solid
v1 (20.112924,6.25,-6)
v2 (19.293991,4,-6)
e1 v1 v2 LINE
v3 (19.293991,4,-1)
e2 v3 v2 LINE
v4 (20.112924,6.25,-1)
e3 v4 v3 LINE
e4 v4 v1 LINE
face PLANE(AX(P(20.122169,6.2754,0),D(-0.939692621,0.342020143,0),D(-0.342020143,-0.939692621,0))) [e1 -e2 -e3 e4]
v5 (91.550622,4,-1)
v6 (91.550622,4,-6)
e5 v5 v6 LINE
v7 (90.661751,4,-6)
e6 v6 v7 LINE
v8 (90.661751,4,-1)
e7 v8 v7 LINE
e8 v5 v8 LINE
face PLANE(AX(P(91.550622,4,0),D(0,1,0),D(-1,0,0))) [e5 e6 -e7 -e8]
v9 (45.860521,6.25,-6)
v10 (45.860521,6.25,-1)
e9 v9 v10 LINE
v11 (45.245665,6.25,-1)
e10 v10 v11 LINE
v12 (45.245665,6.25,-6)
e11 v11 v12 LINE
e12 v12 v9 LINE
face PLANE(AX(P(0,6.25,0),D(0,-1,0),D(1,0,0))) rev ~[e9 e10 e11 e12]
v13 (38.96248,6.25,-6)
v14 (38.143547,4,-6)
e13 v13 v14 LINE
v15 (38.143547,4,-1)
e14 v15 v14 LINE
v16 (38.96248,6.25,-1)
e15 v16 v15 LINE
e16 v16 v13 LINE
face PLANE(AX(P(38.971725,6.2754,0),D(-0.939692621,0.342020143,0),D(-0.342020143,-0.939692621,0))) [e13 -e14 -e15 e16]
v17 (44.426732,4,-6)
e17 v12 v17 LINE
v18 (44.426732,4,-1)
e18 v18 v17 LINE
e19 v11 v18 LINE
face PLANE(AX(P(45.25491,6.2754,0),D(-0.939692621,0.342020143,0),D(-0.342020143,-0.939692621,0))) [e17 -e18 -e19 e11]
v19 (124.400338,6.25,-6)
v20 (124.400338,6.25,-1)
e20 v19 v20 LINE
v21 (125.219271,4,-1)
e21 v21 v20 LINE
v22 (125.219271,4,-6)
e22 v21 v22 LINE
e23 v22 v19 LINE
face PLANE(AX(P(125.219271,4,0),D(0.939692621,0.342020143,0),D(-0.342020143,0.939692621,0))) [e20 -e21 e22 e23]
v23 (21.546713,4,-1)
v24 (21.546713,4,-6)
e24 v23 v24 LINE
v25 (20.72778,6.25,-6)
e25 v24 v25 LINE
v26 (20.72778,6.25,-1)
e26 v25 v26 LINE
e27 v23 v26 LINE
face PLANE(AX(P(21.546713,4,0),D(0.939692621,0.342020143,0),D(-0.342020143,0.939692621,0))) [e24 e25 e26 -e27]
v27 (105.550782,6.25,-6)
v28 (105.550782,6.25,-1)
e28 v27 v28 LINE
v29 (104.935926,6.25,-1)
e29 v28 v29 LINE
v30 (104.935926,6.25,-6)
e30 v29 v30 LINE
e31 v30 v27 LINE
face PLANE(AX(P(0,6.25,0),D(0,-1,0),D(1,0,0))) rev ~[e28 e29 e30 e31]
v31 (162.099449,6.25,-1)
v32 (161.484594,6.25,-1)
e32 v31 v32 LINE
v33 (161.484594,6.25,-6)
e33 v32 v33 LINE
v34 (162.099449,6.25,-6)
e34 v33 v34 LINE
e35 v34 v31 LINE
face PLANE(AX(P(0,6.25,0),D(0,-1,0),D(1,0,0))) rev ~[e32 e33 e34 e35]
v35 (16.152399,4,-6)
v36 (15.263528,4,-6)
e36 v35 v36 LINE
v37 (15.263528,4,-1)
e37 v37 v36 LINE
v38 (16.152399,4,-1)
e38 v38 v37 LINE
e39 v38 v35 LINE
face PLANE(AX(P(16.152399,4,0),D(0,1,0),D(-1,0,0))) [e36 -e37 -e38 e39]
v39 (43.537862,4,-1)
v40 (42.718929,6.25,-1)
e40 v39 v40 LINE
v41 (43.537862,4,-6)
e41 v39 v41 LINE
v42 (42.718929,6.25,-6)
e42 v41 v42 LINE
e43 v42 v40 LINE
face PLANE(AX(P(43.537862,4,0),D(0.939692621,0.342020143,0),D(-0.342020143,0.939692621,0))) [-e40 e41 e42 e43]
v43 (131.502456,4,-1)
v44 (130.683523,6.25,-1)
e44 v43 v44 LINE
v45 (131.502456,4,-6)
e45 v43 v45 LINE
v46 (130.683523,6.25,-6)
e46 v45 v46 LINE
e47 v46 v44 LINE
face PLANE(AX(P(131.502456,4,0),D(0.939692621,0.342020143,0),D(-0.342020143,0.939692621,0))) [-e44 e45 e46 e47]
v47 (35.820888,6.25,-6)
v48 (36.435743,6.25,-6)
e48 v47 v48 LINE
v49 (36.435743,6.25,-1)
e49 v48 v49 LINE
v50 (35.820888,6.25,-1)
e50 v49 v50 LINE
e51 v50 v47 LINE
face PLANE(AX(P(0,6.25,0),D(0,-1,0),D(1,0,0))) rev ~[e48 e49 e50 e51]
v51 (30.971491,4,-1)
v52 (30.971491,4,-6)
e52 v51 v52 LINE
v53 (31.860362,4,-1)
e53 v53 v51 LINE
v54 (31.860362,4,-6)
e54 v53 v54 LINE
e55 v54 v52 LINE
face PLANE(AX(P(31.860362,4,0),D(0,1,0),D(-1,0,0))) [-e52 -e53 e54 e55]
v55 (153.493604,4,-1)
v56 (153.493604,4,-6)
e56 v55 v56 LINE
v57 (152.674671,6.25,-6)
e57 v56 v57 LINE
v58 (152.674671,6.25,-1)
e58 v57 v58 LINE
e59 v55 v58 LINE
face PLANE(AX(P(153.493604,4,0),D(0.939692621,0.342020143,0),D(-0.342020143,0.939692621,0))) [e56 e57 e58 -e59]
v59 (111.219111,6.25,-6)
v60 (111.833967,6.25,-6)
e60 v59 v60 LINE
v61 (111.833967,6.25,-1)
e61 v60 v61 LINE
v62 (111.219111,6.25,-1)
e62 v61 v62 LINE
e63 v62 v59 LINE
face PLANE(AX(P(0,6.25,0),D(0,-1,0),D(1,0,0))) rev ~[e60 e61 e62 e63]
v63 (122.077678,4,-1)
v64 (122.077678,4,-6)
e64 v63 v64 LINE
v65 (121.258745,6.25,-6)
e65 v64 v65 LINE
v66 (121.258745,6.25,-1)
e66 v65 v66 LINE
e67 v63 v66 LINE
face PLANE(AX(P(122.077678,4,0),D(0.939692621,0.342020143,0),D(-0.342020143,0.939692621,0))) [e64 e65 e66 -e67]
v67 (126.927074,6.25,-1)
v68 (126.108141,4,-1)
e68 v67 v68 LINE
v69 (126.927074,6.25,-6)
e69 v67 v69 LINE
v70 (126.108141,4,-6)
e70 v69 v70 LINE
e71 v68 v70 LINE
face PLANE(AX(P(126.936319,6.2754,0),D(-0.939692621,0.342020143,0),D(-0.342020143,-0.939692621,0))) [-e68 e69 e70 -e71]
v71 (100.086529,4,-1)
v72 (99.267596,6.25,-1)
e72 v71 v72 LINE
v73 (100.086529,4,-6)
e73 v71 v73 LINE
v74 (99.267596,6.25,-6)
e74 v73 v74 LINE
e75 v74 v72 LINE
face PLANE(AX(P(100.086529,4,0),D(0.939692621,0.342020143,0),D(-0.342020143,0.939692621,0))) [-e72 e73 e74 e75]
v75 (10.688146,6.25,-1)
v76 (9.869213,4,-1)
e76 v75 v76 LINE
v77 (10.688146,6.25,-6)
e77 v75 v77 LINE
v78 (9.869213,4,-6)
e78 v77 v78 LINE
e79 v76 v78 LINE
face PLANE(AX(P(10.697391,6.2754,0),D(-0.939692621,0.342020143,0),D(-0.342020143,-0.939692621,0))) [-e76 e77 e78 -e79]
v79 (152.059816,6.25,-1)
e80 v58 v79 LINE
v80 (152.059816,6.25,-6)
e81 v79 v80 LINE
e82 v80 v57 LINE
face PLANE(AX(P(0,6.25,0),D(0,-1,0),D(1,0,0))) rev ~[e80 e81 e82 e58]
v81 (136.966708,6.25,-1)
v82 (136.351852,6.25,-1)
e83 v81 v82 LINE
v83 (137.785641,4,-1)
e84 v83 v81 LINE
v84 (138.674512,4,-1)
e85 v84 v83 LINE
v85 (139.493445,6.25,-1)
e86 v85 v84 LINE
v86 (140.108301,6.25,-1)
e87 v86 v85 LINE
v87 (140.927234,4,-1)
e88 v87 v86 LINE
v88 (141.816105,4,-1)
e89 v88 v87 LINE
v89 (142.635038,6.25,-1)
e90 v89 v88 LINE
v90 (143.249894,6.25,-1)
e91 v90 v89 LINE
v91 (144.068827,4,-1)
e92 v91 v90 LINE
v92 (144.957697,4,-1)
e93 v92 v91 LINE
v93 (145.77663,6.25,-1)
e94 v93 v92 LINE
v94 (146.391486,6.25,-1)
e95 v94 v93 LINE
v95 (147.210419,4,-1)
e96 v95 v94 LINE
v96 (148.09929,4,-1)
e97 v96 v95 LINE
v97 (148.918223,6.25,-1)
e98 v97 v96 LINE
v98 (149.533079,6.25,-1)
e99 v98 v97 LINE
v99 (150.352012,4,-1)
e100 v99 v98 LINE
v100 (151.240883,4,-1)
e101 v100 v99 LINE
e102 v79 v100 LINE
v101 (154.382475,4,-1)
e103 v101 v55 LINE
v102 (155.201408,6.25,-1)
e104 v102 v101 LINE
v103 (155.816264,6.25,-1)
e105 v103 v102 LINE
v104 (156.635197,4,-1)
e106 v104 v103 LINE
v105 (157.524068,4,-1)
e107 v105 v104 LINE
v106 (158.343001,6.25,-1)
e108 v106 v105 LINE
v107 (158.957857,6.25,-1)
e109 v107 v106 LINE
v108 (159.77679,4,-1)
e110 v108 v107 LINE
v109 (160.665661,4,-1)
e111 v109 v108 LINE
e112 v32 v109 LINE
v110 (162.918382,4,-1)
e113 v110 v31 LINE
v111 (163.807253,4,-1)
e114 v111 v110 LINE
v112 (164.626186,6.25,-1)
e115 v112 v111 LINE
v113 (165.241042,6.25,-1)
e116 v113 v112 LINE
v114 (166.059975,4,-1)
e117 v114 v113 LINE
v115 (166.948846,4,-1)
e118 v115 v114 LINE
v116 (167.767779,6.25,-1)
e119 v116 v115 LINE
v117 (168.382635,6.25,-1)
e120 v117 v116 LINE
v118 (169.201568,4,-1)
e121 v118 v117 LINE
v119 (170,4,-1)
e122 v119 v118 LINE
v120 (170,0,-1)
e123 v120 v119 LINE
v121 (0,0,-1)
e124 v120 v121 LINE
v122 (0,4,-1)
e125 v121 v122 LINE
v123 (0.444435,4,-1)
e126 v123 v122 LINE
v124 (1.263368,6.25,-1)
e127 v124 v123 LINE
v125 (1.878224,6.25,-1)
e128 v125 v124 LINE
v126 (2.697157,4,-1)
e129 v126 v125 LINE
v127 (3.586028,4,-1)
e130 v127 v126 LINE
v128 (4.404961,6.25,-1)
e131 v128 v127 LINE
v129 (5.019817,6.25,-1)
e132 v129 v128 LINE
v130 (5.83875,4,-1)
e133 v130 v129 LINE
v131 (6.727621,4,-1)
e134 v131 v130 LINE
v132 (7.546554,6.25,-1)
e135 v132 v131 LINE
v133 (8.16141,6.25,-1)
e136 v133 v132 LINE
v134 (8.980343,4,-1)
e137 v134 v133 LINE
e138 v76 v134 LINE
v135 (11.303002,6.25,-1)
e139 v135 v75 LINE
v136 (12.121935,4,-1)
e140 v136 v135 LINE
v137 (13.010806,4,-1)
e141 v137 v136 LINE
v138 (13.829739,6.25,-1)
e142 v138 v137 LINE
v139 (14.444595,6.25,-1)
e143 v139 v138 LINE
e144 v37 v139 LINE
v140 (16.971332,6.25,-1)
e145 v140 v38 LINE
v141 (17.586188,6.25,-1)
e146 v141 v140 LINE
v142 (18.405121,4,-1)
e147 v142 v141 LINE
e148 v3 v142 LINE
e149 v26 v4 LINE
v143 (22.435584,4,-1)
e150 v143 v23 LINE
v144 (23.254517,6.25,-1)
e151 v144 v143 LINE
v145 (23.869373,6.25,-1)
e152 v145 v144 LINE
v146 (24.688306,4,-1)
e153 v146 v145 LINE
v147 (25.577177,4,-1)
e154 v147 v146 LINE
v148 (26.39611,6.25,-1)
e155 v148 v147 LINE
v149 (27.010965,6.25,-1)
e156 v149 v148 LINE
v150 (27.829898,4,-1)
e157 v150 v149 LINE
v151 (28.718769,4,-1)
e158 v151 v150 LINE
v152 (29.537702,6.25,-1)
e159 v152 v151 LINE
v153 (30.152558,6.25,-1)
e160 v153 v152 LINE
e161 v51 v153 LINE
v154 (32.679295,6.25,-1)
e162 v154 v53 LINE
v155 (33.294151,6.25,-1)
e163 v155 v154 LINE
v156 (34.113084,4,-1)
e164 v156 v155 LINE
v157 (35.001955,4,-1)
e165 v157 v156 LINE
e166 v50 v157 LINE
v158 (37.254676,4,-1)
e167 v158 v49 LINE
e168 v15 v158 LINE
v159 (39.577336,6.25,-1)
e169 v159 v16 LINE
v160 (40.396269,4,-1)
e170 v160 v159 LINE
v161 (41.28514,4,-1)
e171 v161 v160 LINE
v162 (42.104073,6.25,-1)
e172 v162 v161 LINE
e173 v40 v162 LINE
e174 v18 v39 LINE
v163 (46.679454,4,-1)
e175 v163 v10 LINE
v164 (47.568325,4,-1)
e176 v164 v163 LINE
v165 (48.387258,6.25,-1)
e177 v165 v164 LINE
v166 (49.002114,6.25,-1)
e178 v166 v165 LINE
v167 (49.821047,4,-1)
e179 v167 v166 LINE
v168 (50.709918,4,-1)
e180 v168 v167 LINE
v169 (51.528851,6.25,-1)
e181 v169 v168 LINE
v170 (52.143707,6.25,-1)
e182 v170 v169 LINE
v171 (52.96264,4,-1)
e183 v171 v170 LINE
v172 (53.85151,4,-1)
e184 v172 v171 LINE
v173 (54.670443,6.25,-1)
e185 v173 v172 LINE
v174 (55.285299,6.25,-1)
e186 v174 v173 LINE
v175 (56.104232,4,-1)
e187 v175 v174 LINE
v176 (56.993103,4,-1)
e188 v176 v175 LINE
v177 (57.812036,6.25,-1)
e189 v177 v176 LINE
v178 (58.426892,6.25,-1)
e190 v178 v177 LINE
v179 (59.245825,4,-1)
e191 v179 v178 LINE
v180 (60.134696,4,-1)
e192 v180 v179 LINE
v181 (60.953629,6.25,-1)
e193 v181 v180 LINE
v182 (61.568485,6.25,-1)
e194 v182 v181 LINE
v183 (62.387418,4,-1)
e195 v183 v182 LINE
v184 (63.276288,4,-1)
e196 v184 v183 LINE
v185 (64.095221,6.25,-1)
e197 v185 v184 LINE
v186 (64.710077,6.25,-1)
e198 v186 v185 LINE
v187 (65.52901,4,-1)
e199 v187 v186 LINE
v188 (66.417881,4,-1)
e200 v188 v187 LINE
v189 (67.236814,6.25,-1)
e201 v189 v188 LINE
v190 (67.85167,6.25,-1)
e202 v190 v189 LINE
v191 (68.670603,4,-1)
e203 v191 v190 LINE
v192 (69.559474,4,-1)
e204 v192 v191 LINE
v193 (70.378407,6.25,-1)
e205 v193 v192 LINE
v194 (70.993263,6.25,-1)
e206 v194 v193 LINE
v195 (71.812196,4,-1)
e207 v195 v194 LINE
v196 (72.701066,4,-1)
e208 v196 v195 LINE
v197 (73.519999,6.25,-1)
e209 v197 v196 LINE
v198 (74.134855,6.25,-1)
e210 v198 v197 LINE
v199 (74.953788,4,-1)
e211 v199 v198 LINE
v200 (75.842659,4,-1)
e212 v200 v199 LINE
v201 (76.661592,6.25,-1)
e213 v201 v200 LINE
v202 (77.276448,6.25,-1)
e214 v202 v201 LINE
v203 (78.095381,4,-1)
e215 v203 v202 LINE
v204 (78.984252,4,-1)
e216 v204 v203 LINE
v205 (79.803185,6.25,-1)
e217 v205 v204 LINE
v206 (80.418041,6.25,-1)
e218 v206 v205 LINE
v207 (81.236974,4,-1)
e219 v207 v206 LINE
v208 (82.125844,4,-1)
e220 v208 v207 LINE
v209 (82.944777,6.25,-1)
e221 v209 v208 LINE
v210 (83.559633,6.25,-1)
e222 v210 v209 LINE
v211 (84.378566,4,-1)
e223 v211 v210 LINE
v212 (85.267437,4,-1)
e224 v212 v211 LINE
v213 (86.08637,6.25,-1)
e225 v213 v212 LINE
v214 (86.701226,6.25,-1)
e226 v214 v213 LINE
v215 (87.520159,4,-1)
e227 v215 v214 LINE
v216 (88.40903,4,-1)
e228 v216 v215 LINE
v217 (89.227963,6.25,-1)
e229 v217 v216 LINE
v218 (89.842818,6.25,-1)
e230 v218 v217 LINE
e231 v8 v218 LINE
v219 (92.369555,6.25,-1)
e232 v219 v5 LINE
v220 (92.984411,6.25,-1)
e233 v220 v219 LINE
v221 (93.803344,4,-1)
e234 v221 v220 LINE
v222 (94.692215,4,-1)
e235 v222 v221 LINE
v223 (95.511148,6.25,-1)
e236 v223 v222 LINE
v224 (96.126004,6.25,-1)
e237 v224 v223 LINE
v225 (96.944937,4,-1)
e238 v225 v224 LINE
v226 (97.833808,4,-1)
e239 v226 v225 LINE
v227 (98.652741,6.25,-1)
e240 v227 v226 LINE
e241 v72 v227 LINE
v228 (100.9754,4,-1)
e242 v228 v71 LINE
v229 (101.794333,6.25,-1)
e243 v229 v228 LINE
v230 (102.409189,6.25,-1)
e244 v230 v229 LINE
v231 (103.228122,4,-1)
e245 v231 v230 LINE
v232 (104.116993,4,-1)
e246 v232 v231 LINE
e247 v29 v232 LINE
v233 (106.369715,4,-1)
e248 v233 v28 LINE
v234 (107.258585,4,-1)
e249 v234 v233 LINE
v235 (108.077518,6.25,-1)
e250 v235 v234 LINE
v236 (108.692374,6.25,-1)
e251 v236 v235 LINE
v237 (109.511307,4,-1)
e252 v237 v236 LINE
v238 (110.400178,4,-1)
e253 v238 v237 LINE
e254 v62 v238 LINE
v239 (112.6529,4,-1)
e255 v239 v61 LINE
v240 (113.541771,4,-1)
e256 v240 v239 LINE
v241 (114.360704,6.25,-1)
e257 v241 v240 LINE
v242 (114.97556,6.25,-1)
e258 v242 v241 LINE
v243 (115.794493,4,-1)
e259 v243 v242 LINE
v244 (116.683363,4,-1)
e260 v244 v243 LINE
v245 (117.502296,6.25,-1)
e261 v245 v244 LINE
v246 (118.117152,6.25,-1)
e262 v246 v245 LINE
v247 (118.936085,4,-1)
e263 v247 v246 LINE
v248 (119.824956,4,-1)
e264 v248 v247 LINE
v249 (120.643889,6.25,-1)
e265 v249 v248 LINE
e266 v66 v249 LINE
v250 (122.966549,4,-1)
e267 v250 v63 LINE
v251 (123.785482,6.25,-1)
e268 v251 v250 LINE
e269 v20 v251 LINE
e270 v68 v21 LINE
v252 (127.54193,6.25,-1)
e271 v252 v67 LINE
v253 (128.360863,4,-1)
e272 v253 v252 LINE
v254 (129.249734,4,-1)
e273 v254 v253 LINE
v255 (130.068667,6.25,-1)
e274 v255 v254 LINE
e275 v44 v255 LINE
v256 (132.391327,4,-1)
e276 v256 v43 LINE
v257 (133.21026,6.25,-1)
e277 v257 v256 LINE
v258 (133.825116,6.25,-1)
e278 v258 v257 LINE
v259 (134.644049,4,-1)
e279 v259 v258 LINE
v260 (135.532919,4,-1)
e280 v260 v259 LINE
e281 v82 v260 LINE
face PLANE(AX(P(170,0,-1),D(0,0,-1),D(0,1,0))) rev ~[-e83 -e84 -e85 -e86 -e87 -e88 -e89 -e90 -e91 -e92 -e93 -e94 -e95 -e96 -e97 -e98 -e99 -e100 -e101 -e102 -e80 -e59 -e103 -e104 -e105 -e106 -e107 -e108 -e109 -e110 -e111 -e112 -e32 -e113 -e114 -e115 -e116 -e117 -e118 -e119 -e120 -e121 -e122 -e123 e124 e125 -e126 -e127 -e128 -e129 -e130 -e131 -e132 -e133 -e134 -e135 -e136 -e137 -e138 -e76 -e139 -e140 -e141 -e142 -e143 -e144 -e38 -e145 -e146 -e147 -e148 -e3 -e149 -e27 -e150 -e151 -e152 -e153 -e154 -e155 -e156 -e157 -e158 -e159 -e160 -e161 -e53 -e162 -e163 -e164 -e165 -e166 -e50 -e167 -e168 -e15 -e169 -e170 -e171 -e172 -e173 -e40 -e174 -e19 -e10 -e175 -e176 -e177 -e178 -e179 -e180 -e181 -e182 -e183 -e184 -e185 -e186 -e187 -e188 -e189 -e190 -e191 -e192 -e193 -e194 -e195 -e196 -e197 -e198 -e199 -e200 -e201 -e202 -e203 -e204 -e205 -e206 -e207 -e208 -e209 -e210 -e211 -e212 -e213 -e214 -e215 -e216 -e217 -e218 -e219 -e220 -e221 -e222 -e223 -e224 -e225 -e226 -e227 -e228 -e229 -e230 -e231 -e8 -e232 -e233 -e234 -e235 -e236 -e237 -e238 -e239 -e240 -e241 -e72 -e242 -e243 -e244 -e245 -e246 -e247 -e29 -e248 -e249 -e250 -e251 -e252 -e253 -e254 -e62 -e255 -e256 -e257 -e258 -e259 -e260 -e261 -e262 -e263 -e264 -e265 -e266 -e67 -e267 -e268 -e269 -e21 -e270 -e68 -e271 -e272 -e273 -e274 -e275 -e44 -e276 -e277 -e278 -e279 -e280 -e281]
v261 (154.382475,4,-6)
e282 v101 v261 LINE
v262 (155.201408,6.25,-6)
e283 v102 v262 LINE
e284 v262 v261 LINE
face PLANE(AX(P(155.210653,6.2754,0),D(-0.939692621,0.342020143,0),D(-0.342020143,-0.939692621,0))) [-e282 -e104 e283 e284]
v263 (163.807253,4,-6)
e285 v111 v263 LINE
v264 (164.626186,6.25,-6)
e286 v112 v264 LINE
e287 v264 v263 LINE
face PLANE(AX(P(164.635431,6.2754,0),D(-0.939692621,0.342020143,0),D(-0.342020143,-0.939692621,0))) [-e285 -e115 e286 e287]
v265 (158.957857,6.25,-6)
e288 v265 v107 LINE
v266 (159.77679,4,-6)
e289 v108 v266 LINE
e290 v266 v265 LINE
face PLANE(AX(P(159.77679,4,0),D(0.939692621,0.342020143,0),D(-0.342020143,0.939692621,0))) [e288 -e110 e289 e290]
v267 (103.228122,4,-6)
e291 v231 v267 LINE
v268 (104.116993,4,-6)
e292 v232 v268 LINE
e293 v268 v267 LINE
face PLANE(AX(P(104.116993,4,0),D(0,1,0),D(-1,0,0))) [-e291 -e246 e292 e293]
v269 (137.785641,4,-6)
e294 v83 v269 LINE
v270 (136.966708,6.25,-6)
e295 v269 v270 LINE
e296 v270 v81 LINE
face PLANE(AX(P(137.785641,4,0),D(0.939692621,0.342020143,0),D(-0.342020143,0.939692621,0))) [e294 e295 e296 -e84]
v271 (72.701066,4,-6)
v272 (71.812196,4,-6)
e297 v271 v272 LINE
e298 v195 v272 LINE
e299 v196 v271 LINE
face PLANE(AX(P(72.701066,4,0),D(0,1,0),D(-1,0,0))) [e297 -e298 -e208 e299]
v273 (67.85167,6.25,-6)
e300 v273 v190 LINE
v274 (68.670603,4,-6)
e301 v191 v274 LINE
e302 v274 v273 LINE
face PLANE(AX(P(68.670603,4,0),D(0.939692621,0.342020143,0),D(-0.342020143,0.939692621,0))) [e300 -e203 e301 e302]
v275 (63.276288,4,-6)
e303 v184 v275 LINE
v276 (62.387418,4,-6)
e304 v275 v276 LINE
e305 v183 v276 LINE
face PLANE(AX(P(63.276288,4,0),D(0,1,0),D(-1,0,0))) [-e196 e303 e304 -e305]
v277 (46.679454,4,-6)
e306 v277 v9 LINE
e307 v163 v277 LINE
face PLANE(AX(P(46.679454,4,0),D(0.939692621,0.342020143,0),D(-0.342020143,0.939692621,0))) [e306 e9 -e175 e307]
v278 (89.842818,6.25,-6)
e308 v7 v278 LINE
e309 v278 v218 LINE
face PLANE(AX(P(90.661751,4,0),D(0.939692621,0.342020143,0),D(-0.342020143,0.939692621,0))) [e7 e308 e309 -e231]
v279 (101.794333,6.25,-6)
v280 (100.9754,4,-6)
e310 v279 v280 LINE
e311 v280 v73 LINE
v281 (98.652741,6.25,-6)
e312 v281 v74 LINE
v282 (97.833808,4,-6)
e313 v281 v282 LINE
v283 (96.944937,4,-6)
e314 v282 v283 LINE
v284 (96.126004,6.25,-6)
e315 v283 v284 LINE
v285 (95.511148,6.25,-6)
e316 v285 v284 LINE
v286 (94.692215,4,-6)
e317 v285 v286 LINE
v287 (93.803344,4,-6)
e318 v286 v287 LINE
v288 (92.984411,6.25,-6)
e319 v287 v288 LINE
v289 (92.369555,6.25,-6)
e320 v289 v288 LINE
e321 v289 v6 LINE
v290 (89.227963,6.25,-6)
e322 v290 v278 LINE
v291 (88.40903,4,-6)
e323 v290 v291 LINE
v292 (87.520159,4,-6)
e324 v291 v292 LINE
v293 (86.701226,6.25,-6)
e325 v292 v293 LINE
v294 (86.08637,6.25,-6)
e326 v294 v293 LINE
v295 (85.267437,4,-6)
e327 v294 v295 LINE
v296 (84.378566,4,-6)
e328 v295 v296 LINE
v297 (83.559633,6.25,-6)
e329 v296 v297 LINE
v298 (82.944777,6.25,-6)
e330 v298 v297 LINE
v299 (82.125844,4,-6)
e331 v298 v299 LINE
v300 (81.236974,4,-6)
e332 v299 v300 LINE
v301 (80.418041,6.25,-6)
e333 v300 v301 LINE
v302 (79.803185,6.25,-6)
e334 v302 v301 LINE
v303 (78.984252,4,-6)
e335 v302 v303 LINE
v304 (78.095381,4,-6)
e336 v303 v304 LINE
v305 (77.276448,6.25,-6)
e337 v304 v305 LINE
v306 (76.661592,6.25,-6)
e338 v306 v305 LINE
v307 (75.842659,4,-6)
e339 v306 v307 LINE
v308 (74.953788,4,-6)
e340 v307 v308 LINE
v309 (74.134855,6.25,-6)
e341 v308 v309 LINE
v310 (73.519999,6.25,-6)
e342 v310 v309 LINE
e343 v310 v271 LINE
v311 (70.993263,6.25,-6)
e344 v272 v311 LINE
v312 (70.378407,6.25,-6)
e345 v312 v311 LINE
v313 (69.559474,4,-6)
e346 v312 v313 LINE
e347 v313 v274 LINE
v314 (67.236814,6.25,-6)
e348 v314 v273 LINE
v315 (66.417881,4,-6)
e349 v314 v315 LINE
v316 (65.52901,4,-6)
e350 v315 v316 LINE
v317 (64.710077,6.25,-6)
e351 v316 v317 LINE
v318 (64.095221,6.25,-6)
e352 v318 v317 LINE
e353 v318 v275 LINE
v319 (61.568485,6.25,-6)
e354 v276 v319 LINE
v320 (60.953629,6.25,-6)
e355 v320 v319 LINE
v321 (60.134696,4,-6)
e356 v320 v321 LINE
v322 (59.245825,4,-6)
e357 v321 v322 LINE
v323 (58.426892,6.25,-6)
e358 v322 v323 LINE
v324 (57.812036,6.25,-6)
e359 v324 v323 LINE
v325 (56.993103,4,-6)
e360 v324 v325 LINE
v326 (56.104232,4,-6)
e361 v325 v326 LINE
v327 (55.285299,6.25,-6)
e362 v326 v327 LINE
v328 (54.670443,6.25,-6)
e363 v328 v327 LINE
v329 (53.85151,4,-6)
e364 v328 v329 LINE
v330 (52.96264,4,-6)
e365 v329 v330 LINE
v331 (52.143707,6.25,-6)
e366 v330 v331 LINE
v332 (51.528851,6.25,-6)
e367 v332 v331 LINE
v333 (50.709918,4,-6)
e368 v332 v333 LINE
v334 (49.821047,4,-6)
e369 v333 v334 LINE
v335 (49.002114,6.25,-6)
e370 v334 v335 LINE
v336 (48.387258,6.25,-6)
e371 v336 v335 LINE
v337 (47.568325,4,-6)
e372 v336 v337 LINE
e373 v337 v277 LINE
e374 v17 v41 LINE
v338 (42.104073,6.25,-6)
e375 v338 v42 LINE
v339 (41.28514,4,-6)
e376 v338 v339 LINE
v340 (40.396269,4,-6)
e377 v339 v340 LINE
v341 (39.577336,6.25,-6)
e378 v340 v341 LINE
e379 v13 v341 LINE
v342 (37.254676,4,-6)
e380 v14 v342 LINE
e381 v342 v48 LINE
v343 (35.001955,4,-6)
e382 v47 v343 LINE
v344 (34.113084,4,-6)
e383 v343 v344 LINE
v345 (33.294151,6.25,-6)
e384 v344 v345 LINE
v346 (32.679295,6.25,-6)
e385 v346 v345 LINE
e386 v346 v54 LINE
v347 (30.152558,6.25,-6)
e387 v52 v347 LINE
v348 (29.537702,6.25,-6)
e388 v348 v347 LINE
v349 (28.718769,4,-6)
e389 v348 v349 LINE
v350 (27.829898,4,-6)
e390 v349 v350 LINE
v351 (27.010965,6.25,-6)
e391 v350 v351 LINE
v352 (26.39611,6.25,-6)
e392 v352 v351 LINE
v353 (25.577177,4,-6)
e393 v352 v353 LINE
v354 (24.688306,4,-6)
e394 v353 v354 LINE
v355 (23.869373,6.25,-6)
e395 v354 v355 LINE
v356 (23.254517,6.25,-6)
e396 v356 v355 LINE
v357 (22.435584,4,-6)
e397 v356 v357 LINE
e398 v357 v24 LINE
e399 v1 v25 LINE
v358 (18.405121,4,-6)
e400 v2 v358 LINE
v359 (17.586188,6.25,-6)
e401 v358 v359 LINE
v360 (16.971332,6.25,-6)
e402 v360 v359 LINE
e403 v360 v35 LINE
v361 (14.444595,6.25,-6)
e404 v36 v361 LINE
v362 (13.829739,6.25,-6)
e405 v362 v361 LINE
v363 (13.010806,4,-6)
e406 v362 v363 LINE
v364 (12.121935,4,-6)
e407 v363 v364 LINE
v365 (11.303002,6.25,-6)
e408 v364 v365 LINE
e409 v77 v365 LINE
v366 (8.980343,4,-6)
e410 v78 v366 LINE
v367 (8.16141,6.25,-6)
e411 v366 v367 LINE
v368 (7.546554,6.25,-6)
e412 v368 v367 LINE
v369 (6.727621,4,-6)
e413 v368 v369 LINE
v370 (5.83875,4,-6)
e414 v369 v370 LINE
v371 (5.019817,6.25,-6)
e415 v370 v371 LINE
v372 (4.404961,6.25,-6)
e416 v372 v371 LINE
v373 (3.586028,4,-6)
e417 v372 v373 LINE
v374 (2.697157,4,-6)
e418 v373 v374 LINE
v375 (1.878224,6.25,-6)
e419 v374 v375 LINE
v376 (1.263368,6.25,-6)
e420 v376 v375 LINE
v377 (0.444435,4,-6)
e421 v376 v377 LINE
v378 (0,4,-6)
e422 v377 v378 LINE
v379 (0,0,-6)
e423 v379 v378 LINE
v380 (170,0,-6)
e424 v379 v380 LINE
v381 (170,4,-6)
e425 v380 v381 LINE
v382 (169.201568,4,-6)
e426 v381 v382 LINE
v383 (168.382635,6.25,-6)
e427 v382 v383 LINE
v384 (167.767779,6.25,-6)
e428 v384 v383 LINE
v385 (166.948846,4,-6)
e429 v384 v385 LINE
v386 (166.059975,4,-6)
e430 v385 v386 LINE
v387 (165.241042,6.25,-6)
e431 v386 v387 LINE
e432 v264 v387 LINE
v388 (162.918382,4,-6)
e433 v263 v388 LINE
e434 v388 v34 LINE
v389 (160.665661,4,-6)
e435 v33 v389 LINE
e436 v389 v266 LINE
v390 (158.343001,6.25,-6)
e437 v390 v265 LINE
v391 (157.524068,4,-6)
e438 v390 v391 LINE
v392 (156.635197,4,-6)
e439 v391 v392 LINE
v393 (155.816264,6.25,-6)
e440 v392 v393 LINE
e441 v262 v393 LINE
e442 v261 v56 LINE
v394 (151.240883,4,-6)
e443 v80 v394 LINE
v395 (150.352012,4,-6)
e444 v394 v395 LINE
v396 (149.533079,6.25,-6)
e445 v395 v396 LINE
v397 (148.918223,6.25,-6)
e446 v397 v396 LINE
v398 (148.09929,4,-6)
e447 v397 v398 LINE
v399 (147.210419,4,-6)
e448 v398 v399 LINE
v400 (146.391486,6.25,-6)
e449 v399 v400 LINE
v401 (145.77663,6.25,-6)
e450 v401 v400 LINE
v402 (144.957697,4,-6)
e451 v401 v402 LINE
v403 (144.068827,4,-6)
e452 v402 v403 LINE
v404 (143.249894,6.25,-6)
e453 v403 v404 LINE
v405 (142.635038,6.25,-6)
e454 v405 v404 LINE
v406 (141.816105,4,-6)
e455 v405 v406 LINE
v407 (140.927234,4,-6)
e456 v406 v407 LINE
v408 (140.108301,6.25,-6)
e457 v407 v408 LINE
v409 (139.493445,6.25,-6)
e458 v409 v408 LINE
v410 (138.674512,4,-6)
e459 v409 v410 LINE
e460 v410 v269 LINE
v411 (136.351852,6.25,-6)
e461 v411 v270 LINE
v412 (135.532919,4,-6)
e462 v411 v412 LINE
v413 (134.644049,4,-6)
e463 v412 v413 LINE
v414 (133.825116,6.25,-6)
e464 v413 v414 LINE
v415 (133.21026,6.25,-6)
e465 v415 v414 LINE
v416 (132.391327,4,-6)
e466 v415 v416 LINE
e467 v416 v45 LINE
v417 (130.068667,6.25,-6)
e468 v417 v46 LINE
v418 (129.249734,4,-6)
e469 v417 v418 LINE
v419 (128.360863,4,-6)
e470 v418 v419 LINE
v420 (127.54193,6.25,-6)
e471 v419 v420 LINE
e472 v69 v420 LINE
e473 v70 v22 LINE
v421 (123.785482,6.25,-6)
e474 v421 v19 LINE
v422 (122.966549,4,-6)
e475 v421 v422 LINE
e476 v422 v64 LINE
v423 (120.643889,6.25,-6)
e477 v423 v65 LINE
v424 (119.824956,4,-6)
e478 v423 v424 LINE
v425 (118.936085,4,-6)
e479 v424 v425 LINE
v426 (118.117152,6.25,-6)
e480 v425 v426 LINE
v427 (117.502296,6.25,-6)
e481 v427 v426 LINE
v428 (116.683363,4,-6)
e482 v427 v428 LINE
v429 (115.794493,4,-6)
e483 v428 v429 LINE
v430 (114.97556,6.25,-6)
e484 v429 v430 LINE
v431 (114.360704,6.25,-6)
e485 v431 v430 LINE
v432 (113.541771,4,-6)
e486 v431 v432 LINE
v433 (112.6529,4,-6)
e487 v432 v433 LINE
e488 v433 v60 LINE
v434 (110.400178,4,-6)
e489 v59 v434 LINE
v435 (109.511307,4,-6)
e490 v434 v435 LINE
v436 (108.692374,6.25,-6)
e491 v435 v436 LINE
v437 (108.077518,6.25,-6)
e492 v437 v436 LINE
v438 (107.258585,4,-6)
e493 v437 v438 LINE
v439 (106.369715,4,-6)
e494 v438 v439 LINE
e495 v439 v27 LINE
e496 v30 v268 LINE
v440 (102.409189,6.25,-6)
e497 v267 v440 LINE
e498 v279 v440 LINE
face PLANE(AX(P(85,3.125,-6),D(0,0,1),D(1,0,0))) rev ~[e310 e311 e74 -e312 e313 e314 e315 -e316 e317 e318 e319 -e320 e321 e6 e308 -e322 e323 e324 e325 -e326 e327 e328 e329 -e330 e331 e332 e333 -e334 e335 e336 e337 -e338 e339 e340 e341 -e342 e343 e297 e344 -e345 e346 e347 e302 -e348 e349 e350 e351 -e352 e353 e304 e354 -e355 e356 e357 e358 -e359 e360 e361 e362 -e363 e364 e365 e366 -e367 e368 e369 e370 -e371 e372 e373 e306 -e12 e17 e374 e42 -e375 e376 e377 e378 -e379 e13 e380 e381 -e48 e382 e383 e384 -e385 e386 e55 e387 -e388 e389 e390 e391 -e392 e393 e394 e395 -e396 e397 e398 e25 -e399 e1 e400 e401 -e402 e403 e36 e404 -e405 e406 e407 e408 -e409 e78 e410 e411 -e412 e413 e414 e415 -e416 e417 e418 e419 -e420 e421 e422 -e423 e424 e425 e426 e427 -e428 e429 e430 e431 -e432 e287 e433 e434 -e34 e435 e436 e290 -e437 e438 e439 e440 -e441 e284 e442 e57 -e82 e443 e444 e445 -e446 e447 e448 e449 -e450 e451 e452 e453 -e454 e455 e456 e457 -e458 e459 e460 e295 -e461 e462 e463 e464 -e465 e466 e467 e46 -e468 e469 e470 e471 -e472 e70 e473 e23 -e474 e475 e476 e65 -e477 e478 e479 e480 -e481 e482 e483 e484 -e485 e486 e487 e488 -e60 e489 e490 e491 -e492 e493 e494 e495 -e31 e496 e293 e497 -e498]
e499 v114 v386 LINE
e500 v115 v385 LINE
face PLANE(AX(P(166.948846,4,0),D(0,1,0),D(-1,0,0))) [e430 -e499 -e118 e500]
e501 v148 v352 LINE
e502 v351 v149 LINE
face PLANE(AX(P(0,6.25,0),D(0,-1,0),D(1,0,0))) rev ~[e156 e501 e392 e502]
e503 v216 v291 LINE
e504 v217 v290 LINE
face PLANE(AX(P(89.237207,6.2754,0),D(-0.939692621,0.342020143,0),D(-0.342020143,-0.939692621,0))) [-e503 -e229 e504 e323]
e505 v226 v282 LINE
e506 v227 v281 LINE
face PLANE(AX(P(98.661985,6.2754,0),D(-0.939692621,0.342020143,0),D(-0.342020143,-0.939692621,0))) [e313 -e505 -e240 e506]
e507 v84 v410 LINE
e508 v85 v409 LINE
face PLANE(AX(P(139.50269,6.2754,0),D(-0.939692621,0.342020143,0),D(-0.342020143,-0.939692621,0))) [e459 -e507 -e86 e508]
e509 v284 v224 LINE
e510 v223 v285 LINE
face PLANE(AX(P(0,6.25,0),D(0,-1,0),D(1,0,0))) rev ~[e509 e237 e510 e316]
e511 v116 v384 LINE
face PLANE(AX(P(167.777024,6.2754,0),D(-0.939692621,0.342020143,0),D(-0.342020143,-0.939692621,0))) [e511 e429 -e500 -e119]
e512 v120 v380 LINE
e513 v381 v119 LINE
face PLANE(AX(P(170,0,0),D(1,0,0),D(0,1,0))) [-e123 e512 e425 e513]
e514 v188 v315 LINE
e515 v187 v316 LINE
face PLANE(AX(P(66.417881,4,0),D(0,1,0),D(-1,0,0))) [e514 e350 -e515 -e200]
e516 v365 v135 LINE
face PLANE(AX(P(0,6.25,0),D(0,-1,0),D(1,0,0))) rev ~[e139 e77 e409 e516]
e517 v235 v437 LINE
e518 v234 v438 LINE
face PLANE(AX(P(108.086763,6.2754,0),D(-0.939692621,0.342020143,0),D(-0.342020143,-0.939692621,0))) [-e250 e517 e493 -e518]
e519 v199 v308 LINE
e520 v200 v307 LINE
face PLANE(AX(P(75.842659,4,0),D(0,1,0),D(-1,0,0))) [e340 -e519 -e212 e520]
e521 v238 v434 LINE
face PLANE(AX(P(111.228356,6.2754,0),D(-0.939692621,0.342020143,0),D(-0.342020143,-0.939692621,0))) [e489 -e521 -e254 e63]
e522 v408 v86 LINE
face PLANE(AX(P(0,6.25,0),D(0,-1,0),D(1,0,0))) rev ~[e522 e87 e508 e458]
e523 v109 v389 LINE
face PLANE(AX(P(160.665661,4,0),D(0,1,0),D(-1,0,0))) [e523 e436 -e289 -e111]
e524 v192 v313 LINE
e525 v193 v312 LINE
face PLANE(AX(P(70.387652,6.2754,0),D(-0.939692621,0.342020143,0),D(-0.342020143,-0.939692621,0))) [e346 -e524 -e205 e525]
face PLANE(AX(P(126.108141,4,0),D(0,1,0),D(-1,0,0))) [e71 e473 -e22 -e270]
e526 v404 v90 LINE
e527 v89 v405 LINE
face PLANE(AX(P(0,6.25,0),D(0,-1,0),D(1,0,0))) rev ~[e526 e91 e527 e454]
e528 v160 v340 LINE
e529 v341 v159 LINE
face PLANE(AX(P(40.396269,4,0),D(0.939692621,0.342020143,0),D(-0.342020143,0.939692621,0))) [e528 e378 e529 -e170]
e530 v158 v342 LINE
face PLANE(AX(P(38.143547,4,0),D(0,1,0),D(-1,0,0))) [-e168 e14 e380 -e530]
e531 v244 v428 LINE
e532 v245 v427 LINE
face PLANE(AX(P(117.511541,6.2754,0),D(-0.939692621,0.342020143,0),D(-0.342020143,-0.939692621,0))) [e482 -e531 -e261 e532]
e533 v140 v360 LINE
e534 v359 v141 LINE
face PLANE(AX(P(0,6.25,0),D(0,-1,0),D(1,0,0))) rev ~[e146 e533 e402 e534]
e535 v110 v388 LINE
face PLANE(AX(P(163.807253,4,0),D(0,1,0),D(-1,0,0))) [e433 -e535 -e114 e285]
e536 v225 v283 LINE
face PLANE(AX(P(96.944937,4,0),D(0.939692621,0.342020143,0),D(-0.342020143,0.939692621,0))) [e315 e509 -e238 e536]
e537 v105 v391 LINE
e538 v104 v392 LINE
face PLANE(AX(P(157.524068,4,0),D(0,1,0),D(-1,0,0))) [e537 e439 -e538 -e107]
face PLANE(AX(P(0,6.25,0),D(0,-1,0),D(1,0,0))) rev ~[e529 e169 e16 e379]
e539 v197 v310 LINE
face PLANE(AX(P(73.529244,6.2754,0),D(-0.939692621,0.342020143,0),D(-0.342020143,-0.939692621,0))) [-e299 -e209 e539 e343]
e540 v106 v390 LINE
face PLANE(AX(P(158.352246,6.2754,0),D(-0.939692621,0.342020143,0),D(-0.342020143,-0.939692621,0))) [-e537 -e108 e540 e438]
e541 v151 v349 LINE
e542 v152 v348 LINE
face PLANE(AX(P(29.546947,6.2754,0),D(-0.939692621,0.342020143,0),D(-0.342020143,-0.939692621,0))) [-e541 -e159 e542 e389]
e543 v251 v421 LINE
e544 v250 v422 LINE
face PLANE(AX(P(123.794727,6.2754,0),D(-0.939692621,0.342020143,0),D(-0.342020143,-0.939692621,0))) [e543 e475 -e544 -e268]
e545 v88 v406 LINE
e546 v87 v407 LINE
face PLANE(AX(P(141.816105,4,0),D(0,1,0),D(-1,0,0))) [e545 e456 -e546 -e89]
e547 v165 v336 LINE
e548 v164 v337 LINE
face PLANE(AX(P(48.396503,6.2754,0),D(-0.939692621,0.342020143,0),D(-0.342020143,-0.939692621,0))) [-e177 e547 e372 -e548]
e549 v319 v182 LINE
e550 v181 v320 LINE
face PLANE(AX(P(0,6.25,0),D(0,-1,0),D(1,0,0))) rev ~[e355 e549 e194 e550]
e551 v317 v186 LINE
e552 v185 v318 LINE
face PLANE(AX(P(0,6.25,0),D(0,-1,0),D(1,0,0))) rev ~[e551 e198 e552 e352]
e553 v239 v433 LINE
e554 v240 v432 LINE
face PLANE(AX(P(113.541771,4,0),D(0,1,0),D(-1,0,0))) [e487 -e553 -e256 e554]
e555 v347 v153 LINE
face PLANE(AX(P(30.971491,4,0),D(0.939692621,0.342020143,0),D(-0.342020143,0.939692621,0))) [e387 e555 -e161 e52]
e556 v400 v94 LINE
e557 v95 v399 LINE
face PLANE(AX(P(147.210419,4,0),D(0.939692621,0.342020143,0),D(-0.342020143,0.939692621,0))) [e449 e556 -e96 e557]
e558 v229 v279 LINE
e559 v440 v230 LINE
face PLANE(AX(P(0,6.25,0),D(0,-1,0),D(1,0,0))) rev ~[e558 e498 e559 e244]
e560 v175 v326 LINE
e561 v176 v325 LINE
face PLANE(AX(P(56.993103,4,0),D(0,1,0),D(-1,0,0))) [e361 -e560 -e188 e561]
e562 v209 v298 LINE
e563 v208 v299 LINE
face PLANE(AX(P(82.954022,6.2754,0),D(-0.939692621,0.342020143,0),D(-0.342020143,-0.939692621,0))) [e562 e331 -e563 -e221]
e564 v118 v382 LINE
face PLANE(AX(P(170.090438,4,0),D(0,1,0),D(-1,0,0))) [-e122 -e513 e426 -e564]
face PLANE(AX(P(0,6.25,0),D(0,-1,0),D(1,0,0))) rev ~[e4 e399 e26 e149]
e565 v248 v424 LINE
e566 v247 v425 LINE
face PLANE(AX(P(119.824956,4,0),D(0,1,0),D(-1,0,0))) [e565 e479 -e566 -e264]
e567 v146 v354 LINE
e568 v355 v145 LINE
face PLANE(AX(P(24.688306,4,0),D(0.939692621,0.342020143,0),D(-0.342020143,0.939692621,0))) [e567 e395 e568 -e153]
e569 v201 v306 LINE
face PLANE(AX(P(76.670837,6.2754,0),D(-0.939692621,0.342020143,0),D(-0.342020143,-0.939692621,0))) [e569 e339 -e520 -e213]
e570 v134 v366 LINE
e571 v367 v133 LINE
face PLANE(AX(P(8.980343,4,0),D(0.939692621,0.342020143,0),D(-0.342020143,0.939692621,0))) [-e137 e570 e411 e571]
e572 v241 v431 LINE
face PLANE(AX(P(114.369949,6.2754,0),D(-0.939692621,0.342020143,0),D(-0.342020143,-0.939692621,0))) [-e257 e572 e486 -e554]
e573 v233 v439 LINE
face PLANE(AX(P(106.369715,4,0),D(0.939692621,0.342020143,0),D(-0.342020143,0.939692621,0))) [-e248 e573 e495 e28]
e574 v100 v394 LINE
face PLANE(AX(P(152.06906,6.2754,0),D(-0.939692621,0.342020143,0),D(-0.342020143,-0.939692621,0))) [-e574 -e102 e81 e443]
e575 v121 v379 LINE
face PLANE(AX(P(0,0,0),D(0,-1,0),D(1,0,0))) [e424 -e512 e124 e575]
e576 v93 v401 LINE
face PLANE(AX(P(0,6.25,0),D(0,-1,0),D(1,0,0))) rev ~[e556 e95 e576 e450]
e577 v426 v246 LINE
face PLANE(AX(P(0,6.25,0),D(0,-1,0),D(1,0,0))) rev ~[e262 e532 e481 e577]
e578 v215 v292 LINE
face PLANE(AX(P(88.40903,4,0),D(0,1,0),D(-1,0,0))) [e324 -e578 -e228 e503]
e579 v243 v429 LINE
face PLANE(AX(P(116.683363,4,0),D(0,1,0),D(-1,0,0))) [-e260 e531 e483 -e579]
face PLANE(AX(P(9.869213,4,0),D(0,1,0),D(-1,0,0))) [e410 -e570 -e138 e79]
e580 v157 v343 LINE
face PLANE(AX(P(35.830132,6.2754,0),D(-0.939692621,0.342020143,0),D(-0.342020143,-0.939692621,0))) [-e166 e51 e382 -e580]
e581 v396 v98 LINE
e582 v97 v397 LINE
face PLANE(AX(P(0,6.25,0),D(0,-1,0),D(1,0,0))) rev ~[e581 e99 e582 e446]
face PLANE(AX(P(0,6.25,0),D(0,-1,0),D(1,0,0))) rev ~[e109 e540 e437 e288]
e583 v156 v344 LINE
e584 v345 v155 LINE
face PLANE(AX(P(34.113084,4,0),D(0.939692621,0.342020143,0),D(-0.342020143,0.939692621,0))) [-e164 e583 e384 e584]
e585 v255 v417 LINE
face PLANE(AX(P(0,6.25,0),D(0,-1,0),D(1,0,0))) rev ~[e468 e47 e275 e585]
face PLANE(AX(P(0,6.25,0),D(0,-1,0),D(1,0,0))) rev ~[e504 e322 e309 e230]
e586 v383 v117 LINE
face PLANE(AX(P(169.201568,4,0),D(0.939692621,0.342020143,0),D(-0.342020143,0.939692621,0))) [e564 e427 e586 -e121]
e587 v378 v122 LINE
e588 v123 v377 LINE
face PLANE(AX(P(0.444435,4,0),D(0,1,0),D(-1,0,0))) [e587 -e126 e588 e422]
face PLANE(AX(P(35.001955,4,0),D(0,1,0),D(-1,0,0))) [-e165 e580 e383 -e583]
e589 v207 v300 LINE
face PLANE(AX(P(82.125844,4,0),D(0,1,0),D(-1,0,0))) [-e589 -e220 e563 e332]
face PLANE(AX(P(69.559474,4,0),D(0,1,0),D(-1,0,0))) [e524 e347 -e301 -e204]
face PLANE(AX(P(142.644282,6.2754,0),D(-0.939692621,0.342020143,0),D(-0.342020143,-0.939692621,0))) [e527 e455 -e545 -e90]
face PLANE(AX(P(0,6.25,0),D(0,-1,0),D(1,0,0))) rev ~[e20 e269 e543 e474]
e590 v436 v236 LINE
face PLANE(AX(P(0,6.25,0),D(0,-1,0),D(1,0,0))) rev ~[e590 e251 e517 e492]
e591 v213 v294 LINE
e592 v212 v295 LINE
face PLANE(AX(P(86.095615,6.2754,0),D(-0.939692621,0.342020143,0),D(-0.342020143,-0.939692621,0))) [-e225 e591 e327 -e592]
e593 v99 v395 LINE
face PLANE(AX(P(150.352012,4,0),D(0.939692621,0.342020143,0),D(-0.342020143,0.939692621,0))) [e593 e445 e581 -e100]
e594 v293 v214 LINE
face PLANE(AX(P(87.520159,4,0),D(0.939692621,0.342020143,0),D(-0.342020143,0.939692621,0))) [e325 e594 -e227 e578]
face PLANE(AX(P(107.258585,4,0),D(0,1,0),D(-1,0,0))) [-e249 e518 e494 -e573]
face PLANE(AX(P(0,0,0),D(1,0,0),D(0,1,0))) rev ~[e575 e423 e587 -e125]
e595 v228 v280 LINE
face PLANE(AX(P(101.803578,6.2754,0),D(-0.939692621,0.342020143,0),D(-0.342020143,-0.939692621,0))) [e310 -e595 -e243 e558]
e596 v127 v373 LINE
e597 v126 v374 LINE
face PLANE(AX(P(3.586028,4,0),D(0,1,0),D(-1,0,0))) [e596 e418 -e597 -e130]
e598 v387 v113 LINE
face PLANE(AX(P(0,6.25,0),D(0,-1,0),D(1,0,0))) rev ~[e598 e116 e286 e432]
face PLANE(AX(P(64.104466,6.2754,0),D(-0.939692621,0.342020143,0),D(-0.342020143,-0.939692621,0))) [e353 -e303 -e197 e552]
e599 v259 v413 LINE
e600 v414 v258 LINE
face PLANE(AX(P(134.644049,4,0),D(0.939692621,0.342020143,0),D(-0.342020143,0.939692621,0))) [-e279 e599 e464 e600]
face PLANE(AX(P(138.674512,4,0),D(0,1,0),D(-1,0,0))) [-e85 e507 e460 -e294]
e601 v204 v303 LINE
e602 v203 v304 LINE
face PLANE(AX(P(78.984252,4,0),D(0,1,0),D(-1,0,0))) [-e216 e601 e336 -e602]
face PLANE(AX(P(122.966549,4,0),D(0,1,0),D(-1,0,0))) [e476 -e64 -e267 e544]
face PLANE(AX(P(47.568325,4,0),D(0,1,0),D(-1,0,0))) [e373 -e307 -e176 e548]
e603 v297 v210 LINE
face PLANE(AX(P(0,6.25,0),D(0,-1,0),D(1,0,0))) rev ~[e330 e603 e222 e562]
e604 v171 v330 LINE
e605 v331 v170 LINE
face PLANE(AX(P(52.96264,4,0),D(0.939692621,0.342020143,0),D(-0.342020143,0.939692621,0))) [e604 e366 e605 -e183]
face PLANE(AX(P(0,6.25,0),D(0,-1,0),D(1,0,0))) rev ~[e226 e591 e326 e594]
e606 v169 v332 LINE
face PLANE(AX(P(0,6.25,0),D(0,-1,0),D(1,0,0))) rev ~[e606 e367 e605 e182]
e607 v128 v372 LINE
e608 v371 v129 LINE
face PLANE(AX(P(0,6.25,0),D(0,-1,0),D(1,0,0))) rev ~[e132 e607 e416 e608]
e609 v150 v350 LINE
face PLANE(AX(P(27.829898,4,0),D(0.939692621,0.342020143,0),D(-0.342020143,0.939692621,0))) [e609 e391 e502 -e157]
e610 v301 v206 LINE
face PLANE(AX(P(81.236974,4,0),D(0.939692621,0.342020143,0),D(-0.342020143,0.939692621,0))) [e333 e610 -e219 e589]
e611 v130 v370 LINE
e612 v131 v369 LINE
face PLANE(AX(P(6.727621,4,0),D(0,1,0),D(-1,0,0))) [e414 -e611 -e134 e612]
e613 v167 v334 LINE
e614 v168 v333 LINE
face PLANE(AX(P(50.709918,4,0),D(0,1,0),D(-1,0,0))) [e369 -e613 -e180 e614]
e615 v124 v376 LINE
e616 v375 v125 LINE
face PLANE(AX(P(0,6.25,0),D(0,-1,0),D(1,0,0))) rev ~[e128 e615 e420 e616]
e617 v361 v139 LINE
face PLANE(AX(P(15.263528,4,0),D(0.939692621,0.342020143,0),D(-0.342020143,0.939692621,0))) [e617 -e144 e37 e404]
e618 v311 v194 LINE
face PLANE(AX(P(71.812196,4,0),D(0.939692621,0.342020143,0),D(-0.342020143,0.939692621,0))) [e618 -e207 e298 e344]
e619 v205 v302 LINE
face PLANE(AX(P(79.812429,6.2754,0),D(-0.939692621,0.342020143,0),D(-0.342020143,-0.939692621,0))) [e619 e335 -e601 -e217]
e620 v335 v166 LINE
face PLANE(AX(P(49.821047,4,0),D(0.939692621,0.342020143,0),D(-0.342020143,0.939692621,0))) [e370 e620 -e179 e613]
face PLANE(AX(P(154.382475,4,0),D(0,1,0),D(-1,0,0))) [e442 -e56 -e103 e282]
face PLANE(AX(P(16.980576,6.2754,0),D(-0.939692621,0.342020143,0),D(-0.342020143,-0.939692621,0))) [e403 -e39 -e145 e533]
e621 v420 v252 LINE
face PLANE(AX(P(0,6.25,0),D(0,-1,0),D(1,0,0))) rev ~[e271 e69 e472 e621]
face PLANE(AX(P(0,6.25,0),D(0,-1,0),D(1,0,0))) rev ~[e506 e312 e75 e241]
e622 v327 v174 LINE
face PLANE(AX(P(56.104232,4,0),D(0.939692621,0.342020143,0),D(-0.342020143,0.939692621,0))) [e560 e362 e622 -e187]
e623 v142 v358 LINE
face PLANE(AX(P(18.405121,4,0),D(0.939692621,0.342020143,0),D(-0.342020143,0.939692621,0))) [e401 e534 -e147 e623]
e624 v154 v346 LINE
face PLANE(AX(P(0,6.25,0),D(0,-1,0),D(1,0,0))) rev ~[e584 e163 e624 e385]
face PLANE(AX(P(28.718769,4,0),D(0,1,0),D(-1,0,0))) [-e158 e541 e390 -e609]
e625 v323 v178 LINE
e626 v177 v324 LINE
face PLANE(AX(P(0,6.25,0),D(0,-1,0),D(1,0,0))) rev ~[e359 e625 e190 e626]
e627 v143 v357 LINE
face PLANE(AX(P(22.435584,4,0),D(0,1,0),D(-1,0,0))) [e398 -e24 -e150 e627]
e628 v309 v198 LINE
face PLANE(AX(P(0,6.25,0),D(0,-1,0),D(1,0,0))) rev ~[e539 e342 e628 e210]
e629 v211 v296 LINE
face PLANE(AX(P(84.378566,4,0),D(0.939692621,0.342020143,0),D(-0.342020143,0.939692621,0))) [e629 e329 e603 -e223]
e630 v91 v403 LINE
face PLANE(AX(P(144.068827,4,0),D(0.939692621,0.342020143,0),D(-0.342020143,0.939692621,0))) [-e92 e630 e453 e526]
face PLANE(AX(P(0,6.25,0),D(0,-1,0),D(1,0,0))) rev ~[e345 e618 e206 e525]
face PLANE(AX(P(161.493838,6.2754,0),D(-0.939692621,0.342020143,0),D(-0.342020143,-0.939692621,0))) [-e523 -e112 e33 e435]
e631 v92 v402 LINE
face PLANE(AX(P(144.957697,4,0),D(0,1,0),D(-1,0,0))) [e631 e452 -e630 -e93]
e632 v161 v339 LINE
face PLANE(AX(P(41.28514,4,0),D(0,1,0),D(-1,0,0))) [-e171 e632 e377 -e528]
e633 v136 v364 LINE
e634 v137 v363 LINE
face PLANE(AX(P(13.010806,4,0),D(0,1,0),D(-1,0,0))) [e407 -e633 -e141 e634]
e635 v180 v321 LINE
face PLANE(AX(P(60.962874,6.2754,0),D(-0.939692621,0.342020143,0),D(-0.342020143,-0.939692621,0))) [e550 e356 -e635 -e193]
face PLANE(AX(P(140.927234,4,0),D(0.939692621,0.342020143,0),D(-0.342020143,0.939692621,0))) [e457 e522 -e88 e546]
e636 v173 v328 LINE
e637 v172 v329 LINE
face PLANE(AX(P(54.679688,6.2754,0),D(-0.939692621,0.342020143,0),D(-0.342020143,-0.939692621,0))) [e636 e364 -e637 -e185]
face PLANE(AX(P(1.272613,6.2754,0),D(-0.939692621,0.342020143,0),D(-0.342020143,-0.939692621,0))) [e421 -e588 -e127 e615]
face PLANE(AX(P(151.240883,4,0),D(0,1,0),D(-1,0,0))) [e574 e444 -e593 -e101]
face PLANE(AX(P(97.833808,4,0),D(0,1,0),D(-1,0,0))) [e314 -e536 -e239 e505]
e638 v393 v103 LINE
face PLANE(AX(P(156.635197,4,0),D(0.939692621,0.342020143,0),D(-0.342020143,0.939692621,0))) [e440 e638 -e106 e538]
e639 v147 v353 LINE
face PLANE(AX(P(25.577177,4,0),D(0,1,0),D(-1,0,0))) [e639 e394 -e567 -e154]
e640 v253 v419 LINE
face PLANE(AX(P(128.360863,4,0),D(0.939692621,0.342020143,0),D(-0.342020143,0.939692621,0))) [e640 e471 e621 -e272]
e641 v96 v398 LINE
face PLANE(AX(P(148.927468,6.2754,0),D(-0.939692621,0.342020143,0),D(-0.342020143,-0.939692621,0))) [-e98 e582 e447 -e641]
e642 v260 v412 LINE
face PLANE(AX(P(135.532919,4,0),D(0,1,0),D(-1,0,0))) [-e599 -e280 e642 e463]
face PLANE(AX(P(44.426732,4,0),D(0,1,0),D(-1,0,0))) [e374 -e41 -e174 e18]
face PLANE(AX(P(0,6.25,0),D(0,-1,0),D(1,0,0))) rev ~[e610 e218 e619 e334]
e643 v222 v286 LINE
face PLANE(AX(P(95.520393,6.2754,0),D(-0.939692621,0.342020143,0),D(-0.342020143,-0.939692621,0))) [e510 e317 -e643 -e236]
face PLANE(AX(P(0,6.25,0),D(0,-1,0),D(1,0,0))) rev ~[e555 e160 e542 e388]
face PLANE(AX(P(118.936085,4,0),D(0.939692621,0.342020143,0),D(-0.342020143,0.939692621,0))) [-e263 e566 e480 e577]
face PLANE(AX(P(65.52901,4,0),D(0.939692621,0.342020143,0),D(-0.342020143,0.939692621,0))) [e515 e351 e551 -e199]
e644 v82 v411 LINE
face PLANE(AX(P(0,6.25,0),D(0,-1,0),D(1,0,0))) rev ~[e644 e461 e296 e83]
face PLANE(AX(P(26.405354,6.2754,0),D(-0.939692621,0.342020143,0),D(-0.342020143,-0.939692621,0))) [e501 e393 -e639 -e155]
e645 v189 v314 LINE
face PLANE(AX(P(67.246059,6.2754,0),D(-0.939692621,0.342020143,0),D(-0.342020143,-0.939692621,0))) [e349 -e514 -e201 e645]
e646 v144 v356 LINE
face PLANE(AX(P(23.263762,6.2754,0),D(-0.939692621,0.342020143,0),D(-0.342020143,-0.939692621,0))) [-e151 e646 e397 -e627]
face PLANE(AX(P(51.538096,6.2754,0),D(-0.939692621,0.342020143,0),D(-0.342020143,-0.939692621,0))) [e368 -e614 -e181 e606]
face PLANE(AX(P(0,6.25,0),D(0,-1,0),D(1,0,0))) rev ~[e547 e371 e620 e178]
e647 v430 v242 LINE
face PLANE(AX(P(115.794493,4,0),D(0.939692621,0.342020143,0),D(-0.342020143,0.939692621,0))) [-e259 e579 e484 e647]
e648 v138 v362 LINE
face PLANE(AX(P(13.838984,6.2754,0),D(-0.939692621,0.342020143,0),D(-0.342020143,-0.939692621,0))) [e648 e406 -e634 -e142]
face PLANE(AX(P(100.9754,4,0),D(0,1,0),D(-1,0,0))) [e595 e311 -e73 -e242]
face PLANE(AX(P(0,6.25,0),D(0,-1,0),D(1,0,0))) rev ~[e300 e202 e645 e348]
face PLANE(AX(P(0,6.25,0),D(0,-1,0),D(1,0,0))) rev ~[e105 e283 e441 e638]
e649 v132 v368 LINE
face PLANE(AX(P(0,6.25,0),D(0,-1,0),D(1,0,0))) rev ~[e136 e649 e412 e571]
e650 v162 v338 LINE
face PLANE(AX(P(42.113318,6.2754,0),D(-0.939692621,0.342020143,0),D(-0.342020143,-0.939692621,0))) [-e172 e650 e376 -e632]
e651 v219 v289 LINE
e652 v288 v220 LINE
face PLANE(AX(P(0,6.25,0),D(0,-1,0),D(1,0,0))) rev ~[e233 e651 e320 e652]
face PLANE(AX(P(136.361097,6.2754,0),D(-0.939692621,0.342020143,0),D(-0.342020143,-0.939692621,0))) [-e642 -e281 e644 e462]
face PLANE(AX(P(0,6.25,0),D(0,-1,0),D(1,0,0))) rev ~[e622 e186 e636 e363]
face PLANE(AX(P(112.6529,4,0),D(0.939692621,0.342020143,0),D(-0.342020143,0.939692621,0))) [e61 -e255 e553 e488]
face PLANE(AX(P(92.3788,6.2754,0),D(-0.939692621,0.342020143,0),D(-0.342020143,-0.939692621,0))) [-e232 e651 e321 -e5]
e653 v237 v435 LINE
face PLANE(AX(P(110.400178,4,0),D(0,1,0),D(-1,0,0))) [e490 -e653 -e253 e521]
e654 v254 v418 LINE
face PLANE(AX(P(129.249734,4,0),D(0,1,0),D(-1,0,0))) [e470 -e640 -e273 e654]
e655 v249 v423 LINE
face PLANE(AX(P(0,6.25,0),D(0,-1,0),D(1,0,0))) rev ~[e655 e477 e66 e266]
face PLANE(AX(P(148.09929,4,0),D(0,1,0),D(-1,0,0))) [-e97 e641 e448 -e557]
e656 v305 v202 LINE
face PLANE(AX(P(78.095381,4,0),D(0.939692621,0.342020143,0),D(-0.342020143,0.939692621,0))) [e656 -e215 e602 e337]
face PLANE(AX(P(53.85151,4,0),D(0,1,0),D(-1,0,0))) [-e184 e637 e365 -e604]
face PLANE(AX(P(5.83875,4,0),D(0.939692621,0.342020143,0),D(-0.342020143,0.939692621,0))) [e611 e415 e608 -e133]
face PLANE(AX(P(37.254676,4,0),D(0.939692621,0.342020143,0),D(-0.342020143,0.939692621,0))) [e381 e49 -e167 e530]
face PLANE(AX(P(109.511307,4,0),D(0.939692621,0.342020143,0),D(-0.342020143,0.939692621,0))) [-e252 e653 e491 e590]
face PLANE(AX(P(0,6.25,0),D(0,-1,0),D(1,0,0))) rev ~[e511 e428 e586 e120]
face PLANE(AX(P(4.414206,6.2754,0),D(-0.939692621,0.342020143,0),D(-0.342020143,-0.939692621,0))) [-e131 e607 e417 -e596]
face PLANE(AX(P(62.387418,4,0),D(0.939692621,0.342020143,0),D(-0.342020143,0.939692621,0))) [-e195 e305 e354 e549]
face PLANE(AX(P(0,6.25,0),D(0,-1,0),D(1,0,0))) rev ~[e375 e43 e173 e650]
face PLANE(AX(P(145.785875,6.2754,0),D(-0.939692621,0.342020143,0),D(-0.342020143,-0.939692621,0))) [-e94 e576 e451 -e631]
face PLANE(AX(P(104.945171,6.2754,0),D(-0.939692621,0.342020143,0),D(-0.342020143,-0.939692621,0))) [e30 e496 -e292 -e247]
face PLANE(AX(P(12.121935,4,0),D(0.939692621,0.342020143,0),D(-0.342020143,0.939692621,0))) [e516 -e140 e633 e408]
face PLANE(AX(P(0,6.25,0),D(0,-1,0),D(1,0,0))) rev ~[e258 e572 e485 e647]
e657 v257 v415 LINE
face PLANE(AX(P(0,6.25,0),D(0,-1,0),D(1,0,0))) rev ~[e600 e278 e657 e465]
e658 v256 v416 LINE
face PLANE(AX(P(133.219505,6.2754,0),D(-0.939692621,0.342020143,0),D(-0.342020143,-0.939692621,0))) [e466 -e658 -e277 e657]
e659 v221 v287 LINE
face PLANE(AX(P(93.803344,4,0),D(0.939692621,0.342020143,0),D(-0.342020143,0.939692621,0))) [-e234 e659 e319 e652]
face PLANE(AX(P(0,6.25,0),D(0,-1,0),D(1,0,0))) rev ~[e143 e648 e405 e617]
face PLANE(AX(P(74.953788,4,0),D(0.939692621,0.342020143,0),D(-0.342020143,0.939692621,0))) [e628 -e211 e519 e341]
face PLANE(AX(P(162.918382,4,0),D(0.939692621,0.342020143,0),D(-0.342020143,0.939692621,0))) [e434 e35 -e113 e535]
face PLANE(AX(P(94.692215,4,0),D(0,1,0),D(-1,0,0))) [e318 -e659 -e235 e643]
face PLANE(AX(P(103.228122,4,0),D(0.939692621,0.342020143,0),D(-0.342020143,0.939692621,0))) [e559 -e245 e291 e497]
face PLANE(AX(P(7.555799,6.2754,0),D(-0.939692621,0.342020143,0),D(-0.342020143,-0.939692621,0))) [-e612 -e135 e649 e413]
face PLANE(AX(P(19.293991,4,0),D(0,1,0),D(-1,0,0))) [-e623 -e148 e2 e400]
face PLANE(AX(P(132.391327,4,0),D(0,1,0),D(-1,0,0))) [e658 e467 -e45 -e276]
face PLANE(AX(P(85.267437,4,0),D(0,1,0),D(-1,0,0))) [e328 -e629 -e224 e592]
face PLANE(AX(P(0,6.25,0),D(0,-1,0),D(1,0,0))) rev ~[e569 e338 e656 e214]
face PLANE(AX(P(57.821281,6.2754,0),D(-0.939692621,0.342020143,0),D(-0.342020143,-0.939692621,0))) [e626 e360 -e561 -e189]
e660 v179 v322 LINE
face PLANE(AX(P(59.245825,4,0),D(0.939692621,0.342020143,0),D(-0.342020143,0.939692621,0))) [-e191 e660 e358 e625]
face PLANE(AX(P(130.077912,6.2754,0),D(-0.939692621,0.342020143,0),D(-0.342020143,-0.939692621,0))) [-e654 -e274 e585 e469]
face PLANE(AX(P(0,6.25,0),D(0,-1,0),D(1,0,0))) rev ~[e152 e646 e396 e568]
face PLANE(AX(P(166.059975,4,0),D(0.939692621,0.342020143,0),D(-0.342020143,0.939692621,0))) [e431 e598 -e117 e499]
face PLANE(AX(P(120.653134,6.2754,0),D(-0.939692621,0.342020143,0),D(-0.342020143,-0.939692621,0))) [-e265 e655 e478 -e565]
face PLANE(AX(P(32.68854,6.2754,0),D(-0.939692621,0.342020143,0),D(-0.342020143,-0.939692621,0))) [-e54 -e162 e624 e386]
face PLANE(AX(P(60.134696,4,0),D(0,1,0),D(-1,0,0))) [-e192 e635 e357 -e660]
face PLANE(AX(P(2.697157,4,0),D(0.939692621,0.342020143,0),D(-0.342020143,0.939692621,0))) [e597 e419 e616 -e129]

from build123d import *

# Parameters (mm, degrees)
BLANKSKE_W         = 170
BLANKSKE_H         = 6.25
BLANK_DEPTH        = 6
TOOTHCUTSIM_DEPTH  = 171.220628891
TEETHCUTS_COUNT    = 55
TEETHCUTS_PITCH    = 3.14159265
SKETCH1_W          = 1
SKETCH1_H          = 6.25
CUT_EXTRUDE1_DEPTH = 171.220628891


with BuildPart() as part:
    # BlankSke → Blank (new body)
    with BuildSketch(Plane.XY):
        with Locations((85, 3.125)):
            Rectangle(BLANKSKE_W, BLANKSKE_H)
    extrude(amount=-BLANK_DEPTH)

    # TooCutSkeSim → ToothCutSim (cut, through all)
    with BuildSketch(Plane.XY):
        Polygon((0.44443537, 4), (-0.44443537, 4), (-1.272613241, 6.2754), (1.272613241, 6.2754), align=None)
    toothcutsim = extrude(amount=-TOOTHCUTSIM_DEPTH, mode=Mode.SUBTRACT)

    # TeethCuts: ToothCutSim ×55
    with Locations(*[(i * TEETHCUTS_PITCH, 0, 0) for i in range(1, TEETHCUTS_COUNT)]):
        add(toothcutsim, mode=Mode.SUBTRACT)

    # Sketch1 → Cut-Extrude1 (cut, through all)
    with BuildSketch(Plane(origin=(170, 0, 0), x_dir=(0, 0, -1), z_dir=(1, 0, 0))):
        with Locations((0.5, 3.125)):
            Rectangle(SKETCH1_W, SKETCH1_H)
    extrude(amount=-CUT_EXTRUDE1_DEPTH, mode=Mode.SUBTRACT)


solid = part.part
